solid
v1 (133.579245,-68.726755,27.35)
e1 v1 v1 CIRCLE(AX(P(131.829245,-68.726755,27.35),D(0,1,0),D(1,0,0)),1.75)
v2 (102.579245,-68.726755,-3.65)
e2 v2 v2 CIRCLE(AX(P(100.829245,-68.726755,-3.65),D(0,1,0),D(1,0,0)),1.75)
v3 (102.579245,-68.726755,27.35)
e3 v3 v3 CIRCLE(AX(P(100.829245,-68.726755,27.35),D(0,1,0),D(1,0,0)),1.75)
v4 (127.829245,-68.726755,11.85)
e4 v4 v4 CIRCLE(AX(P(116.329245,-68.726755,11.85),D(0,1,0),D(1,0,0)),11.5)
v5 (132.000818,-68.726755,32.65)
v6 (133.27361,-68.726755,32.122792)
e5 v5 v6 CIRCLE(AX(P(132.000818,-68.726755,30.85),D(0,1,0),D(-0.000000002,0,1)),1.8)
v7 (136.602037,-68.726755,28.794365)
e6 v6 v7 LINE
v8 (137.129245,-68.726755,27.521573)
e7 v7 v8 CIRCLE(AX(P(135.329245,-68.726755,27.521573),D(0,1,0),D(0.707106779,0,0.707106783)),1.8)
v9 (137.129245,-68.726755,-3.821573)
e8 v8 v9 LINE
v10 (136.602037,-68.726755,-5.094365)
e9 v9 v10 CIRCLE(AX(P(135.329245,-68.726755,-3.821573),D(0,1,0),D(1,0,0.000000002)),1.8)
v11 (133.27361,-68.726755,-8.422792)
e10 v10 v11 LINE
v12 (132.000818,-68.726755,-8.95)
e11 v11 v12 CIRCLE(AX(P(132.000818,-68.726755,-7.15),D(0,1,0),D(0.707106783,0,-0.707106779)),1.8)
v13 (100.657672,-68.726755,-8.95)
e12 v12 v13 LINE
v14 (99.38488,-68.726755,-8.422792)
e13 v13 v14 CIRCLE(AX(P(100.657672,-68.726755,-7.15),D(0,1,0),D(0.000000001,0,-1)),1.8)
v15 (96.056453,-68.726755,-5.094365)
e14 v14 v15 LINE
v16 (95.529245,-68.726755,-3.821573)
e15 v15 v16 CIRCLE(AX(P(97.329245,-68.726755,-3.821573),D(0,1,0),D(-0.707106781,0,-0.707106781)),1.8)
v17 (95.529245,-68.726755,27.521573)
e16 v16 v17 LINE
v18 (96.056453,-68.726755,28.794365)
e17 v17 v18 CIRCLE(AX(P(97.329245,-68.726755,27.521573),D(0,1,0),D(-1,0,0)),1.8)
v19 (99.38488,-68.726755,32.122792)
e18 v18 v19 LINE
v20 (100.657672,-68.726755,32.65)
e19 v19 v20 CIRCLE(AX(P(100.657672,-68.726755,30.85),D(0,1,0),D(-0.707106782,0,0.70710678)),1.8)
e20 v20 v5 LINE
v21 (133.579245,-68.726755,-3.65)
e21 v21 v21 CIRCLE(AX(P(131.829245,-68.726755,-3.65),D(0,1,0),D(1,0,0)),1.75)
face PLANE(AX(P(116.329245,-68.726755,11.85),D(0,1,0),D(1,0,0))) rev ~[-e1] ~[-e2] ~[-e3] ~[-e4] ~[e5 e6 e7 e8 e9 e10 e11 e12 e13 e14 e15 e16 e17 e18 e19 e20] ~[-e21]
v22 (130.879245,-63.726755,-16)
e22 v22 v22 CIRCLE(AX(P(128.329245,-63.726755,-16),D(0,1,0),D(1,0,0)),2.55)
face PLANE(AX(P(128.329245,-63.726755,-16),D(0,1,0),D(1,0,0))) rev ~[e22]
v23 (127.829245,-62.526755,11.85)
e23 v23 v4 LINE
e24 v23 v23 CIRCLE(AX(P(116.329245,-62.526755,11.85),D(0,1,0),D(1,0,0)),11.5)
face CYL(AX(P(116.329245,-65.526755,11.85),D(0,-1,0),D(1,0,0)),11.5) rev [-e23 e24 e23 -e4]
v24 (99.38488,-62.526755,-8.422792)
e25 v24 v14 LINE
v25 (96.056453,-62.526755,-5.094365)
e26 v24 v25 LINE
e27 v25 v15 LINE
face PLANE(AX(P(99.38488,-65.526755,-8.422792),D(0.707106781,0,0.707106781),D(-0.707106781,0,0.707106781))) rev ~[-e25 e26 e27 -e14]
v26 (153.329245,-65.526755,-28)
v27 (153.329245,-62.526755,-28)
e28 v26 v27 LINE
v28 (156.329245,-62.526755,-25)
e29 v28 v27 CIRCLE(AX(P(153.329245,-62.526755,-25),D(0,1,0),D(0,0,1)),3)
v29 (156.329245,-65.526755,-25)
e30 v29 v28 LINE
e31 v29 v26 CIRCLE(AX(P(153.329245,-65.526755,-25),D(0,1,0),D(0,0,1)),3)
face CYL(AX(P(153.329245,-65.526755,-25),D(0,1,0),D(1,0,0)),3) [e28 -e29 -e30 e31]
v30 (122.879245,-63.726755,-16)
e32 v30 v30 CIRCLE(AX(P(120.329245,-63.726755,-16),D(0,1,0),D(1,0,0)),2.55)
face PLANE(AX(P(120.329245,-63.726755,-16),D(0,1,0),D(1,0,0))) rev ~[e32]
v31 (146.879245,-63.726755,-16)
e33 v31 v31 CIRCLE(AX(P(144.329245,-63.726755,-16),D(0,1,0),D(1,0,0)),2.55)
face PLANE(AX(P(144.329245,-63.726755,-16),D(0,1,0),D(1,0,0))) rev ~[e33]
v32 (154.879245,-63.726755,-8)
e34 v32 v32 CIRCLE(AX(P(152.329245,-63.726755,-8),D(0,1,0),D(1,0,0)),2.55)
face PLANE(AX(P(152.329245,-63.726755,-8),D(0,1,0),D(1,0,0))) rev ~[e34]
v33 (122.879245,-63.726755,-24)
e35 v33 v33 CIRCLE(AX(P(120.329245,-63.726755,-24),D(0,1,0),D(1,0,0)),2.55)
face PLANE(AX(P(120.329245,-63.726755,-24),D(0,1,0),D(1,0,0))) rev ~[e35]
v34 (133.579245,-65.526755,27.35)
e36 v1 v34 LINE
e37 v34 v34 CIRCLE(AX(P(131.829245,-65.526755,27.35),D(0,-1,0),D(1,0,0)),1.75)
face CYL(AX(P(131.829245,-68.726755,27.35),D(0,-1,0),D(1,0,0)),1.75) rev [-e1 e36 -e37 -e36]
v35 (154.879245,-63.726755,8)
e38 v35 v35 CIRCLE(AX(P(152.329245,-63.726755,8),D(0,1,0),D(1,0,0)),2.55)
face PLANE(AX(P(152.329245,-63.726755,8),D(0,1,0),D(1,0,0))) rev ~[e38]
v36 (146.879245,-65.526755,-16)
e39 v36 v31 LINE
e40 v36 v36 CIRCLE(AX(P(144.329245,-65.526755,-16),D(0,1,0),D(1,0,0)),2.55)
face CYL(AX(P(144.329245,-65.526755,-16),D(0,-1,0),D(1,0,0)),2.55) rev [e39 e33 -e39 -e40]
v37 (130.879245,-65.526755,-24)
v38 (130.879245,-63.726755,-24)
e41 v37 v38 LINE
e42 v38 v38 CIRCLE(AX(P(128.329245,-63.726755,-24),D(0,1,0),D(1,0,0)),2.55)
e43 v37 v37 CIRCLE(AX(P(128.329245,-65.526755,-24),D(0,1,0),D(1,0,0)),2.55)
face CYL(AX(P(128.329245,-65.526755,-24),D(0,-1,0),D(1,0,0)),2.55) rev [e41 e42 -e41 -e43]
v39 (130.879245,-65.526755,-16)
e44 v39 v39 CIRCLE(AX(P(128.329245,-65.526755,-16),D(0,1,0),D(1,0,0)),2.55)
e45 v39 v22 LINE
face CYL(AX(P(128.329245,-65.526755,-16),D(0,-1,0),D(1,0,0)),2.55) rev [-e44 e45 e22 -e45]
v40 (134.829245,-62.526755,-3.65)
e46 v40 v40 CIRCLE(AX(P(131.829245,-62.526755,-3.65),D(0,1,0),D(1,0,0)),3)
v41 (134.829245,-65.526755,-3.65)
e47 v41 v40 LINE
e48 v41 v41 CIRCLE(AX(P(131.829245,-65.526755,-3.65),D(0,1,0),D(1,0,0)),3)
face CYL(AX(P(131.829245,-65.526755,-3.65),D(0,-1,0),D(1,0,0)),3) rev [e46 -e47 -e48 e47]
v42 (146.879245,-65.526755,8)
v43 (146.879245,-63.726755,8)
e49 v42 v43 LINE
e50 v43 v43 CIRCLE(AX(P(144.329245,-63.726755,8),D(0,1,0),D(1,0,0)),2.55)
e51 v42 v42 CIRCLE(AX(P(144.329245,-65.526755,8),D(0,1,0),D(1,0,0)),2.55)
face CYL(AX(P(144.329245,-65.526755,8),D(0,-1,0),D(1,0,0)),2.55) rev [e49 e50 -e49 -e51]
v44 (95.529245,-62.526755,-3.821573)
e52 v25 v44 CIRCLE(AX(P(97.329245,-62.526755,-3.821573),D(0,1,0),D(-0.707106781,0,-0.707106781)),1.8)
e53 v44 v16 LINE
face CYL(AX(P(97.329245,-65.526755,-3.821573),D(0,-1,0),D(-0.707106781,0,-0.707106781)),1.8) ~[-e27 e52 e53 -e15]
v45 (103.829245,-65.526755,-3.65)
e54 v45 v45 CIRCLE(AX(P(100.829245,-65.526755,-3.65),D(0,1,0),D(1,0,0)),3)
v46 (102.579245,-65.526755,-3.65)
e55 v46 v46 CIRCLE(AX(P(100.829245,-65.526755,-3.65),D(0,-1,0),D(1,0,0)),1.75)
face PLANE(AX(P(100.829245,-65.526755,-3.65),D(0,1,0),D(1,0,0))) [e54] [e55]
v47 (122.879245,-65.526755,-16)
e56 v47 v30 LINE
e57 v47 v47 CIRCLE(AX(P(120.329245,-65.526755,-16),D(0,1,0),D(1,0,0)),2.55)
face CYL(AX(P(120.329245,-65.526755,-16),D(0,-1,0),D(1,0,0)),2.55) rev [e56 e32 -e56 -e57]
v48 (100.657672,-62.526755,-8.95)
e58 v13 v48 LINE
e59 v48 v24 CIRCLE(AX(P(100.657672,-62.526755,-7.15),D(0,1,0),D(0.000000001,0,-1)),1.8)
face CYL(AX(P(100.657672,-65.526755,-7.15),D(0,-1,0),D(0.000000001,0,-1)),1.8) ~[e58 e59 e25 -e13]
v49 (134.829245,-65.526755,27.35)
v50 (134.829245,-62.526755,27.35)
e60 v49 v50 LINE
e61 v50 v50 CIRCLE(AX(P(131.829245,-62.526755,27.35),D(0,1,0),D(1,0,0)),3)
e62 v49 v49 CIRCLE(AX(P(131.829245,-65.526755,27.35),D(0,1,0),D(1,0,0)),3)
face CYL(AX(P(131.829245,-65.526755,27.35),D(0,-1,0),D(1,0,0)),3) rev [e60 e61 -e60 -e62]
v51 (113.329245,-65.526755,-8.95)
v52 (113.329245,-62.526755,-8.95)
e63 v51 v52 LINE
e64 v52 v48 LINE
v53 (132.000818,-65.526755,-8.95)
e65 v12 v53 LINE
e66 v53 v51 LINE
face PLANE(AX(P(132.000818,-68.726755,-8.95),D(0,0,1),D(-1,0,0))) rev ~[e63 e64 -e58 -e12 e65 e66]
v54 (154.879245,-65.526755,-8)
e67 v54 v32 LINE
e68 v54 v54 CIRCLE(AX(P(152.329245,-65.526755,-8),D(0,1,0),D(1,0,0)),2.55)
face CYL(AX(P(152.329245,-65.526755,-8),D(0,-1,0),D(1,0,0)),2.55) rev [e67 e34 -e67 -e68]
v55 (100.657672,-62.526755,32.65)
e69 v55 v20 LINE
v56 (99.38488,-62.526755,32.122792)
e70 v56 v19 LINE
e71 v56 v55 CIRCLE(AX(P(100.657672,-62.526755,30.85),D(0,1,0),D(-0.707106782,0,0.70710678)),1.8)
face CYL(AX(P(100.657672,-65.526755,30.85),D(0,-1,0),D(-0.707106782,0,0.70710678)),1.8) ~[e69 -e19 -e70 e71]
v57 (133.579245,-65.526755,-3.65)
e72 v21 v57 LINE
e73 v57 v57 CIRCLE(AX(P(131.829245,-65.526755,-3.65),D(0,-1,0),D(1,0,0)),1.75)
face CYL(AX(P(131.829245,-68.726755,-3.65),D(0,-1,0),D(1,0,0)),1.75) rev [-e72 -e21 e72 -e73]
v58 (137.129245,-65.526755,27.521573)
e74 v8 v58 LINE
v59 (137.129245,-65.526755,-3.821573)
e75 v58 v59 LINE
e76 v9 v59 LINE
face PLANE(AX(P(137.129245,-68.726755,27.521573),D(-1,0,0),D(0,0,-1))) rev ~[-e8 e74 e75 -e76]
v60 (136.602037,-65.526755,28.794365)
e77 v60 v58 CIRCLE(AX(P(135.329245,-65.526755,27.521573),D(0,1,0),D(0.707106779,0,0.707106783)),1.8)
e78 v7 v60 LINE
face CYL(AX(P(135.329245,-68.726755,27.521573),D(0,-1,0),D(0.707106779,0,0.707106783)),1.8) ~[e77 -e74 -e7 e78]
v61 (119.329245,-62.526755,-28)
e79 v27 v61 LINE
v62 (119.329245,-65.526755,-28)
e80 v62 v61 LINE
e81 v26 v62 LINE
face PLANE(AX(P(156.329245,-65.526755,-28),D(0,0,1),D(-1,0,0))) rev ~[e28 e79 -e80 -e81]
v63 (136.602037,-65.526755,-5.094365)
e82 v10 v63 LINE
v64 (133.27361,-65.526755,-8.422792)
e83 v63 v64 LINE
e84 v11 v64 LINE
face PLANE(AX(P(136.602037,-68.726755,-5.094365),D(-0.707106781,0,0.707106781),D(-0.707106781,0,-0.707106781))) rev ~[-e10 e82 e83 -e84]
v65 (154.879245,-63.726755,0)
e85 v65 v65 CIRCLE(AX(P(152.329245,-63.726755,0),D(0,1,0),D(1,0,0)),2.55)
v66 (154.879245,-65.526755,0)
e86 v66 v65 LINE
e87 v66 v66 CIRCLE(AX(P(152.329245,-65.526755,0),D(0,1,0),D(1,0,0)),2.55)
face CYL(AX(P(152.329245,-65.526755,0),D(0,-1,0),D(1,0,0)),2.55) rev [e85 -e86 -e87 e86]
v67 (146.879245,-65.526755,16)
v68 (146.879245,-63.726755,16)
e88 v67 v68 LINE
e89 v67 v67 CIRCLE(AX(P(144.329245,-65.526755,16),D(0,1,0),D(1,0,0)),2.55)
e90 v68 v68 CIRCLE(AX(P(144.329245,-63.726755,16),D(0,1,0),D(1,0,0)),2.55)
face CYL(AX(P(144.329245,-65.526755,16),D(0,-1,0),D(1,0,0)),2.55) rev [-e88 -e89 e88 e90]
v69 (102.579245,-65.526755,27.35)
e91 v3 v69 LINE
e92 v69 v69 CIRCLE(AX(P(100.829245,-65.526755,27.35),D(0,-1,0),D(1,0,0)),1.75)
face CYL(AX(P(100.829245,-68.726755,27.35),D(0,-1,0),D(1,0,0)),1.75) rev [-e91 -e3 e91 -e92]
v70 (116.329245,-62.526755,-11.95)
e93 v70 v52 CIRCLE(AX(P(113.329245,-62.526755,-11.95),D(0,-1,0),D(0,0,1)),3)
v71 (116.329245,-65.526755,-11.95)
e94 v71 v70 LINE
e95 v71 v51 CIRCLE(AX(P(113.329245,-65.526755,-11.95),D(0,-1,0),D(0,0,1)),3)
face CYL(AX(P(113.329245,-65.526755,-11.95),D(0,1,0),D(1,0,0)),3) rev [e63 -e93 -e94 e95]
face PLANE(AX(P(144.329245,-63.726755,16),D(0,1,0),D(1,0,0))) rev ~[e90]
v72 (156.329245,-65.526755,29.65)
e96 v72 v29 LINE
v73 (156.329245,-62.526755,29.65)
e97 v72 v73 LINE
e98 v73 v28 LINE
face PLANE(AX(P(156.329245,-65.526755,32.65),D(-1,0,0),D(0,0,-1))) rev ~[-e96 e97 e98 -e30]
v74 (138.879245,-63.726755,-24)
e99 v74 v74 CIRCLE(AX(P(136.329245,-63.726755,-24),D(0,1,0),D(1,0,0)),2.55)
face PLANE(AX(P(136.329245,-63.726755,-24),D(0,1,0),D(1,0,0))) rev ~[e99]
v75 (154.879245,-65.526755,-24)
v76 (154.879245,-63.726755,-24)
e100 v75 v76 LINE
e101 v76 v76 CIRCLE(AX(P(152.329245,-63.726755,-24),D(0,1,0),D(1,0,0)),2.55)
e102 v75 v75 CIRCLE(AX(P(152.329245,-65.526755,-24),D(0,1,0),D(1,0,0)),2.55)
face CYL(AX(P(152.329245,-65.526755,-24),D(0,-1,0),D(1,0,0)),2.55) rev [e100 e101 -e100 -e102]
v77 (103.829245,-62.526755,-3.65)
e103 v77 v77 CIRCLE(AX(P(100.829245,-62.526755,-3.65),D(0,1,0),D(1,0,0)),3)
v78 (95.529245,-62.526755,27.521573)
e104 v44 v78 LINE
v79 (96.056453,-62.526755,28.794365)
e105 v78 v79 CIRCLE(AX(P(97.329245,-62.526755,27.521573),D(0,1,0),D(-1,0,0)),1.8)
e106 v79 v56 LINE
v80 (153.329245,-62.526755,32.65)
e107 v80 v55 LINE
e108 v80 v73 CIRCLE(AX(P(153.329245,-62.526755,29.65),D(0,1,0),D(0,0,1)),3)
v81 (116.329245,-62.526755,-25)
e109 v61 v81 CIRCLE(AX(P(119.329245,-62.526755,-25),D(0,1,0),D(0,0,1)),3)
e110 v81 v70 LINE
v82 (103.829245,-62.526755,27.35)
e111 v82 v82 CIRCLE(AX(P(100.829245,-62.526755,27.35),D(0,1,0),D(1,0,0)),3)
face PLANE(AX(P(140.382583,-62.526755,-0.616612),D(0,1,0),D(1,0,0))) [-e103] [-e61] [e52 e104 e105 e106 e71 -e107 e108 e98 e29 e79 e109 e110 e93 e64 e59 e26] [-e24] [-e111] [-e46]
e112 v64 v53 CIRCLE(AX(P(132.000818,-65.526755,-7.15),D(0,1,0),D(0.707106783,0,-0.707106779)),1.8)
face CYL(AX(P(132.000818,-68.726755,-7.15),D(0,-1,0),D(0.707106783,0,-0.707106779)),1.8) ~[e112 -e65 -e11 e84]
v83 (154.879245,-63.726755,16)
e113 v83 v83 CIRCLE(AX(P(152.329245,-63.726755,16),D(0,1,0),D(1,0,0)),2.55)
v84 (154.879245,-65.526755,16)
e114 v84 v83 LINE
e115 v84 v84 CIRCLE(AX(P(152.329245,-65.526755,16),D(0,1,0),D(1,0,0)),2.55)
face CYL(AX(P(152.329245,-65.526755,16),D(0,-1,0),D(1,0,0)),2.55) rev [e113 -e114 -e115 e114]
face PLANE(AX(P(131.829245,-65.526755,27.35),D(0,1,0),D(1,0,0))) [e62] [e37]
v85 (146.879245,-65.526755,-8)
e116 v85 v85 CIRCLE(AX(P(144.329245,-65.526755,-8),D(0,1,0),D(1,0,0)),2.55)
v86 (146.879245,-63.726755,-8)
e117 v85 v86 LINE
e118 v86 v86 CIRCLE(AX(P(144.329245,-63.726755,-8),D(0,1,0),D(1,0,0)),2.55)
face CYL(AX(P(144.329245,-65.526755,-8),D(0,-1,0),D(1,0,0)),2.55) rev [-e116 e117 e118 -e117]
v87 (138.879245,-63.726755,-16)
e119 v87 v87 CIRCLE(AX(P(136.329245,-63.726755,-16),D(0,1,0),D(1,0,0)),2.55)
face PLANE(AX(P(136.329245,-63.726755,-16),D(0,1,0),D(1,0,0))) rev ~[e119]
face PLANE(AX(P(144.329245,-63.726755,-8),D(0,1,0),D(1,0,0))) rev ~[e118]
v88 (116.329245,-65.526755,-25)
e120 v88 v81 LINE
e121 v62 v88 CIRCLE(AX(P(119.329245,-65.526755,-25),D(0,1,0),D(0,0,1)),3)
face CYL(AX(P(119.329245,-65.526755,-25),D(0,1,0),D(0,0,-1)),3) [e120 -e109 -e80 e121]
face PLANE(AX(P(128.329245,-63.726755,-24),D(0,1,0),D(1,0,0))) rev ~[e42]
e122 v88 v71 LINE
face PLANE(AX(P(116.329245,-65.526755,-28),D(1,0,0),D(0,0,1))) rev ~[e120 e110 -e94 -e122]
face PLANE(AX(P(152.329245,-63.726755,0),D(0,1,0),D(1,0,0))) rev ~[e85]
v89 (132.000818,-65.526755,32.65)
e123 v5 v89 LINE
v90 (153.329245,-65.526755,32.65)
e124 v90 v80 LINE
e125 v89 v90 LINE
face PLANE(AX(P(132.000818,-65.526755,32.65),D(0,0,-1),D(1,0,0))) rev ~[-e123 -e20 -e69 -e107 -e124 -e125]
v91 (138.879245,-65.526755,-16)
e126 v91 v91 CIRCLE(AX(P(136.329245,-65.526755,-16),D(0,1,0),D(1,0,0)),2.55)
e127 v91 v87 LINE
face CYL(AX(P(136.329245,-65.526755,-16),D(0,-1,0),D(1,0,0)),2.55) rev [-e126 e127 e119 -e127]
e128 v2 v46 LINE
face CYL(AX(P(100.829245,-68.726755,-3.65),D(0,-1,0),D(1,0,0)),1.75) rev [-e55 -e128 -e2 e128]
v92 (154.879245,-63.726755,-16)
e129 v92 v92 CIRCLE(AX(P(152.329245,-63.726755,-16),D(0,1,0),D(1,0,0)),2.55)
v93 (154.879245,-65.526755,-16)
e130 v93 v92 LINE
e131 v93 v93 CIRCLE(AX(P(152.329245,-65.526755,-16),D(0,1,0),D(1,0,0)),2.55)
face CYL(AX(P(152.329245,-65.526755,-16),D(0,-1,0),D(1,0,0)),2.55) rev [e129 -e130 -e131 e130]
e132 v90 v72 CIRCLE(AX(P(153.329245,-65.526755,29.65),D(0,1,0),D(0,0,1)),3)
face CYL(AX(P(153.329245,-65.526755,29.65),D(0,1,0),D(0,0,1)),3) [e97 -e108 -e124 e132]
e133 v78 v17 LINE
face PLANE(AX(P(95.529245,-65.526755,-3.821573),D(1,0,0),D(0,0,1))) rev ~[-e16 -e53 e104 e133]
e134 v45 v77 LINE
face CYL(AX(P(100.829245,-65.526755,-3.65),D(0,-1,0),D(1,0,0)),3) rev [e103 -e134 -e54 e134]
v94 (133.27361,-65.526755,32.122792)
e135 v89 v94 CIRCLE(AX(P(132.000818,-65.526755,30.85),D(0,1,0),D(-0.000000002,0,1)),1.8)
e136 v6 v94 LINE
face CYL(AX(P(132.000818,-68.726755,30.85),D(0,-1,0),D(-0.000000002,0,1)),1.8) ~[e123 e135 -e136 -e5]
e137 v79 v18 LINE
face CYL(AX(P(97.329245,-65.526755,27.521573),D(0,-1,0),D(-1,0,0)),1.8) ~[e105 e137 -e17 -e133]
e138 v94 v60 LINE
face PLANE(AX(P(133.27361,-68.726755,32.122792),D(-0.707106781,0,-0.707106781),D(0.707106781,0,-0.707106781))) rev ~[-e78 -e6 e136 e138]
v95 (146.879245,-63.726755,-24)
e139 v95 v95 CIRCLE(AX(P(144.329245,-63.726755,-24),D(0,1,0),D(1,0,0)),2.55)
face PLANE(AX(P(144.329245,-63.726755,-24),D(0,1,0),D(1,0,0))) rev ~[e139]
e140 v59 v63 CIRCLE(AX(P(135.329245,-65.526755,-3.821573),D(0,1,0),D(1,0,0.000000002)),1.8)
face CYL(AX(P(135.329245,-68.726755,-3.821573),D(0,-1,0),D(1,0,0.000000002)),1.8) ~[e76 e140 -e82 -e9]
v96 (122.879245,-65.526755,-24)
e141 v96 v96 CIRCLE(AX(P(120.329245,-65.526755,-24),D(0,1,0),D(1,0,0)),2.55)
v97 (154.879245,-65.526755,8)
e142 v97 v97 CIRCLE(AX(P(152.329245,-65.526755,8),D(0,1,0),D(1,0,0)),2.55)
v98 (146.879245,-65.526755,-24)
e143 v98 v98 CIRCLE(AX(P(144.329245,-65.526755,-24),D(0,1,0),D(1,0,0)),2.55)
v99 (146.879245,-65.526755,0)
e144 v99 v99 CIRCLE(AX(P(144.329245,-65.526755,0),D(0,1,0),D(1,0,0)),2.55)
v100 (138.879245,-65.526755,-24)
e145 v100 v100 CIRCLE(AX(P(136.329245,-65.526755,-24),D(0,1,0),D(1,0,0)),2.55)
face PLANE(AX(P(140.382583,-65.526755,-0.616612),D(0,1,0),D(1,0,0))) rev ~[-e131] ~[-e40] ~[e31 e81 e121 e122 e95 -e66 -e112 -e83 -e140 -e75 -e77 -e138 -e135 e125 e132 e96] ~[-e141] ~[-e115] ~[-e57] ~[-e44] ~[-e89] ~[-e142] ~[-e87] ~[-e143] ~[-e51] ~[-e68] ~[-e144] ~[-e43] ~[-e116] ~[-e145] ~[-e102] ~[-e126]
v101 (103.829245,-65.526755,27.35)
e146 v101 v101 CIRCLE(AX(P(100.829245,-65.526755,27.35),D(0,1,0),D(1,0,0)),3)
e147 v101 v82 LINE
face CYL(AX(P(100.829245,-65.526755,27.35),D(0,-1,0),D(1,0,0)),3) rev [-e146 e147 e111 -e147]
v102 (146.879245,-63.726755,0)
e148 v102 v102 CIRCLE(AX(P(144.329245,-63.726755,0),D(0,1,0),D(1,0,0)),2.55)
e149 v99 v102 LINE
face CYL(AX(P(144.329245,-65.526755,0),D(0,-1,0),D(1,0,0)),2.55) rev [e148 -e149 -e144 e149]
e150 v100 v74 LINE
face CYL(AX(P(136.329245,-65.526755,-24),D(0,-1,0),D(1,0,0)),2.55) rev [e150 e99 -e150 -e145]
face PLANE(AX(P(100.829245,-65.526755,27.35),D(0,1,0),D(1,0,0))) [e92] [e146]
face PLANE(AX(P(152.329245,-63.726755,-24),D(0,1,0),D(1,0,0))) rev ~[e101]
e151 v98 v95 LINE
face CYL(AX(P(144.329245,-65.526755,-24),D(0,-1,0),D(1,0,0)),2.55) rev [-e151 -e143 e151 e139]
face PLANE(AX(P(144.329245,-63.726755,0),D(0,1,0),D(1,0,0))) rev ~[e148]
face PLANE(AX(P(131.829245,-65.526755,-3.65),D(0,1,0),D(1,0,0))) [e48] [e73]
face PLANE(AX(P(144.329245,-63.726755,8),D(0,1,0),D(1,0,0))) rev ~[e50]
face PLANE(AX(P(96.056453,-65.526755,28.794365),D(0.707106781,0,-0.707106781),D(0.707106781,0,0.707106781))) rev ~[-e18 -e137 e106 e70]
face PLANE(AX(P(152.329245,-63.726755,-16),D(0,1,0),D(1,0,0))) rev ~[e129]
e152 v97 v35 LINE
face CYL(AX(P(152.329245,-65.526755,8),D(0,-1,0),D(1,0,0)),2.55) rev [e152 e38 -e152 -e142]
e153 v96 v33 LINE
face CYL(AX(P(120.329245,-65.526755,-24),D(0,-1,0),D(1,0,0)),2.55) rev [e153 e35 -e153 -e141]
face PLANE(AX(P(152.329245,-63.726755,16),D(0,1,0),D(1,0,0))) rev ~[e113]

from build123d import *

# Parameters (mm, degrees)
SKETCH1_R           = 1.75
SKETCH1_R_2         = 11.5
BOSS_EXTRUDE1_DEPTH = 3.2
BOSS_EXTRUDE2_START = 3.2
SKETCH1_5_R         = 2.55
SKETCH1_5_R_2       = 3
SKETCH1_5_R_3       = 11.5
SKETCH1_5_R_4       = 1.75
BOSS_EXTRUDE2_DEPTH = 3
BOSS_EXTRUDE3_START = 5
SKETCH1_6_R         = 2.55
BOSS_EXTRUDE3_DEPTH = 1.2
CUT_EXTRUDE2_START  = 3.2
SKETCH1_4_R         = 3
CUT_EXTRUDE2_DEPTH  = 3
FILLET1_R           = 3


with BuildPart() as part:
    # Sketch1 → Boss-Extrude1 (new body)
    with BuildSketch(Plane(origin=(0, -68.726755499, 0), x_dir=(1, 0, 0), z_dir=(0, 1, 0))):
        with BuildLine():
            Line((137.12924475, -27.521572875), (137.12924475, 3.821572875))
            ThreePointArc((137.12924475, 3.821572875), (136.992227909, 4.510403054), (136.602036956, 5.094365081))
            Line((136.602036956, 5.094365081), (133.273609831, 8.422792206))
            ThreePointArc((133.273609831, 8.422792206), (132.689647804, 8.812983159), (132.000817625, 8.95))
            Line((132.000817625, 8.95), (100.657671875, 8.95))
            ThreePointArc((100.657671875, 8.95), (99.968841697, 8.812983159), (99.384879669, 8.422792206))
            Line((99.384879669, 8.422792206), (96.056452544, 5.094365081))
            ThreePointArc((96.056452544, 5.094365081), (95.666261592, 4.510403054), (95.52924475, 3.821572875))
            Line((95.52924475, 3.821572875), (95.52924475, -27.521572875))
            ThreePointArc((95.52924475, -27.521572875), (95.666261592, -28.210403054), (96.056452544, -28.794365081))
            Line((96.056452544, -28.794365081), (99.384879669, -32.122792206))
            ThreePointArc((99.384879669, -32.122792206), (99.968841697, -32.512983159), (100.657671875, -32.65))
            Line((100.657671875, -32.65), (132.000817625, -32.65))
            ThreePointArc((132.000817625, -32.65), (132.689647804, -32.512983159), (133.273609831, -32.122792206))
            Line((133.273609831, -32.122792206), (136.602036956, -28.794365081))
            ThreePointArc((136.602036956, -28.794365081), (136.992227909, -28.210403054), (137.12924475, -27.521572875))
        make_face()
        with Locations((100.82924475, -27.35)):
            Circle(SKETCH1_R, mode=Mode.SUBTRACT)
        with Locations((100.82924475, 3.65)):
            Circle(SKETCH1_R, mode=Mode.SUBTRACT)
        with Locations((131.82924475, 3.65)):
            Circle(SKETCH1_R, mode=Mode.SUBTRACT)
        with Locations((131.82924475, -27.35)):
            Circle(SKETCH1_R, mode=Mode.SUBTRACT)
        with Locations((116.32924475, -11.85)):
            Circle(SKETCH1_R_2, mode=Mode.SUBTRACT)
    extrude(amount=BOSS_EXTRUDE1_DEPTH)

    # Sketch1<5> → Boss-Extrude2 (add)
    # profile 1 of 6: a face of its own
    with BuildSketch(Plane(origin=(0, -68.726755499, 0), x_dir=(1, 0, 0), z_dir=(0, 1, 0)).offset(BOSS_EXTRUDE2_START)):
        with BuildLine():
            ThreePointArc((133.273609831, -32.122792206), (132.689647804, -32.512983159), (132.000817625, -32.65))
            Line((132.000817625, -32.65), (156.32924475, -32.65))
            Line((156.32924475, -32.65), (156.32924475, 28))
            Line((156.32924475, 28), (116.32924475, 28))
            Line((116.32924475, 28), (116.32924475, 8.95))
            Line((116.32924475, 8.95), (132.000817625, 8.95))
            ThreePointArc((132.000817625, 8.95), (132.689647804, 8.812983159), (133.273609831, 8.422792206))
            Line((133.273609831, 8.422792206), (136.602036956, 5.094365081))
            ThreePointArc((136.602036956, 5.094365081), (136.992227909, 4.510403054), (137.12924475, 3.821572875))
            Line((137.12924475, 3.821572875), (137.12924475, -27.521572875))
            ThreePointArc((137.12924475, -27.521572875), (136.992227909, -28.210403054), (136.602036956, -28.794365081))
            Line((136.602036956, -28.794365081), (133.273609831, -32.122792206))
        make_face()
        with Locations((144.32924475, -16)):
            Circle(SKETCH1_5_R, mode=Mode.SUBTRACT)
        with Locations((152.32924475, -16)):
            Circle(SKETCH1_5_R, mode=Mode.SUBTRACT)
        with Locations((144.32924475, -8)):
            Circle(SKETCH1_5_R, mode=Mode.SUBTRACT)
        with Locations((152.32924475, -8)):
            Circle(SKETCH1_5_R, mode=Mode.SUBTRACT)
        with Locations((120.32924475, 16)):
            Circle(SKETCH1_5_R, mode=Mode.SUBTRACT)
        with Locations((120.32924475, 24)):
            Circle(SKETCH1_5_R, mode=Mode.SUBTRACT)
        with Locations((144.32924475, 0)):
            Circle(SKETCH1_5_R, mode=Mode.SUBTRACT)
        with Locations((152.32924475, 0)):
            Circle(SKETCH1_5_R, mode=Mode.SUBTRACT)
        with Locations((144.32924475, 8)):
            Circle(SKETCH1_5_R, mode=Mode.SUBTRACT)
        with Locations((152.32924475, 8)):
            Circle(SKETCH1_5_R, mode=Mode.SUBTRACT)
        with Locations((128.32924475, 16)):
            Circle(SKETCH1_5_R, mode=Mode.SUBTRACT)
        with Locations((136.32924475, 16)):
            Circle(SKETCH1_5_R, mode=Mode.SUBTRACT)
        with Locations((128.32924475, 24)):
            Circle(SKETCH1_5_R, mode=Mode.SUBTRACT)
        with Locations((136.32924475, 24)):
            Circle(SKETCH1_5_R, mode=Mode.SUBTRACT)
        with Locations((144.32924475, 16)):
            Circle(SKETCH1_5_R, mode=Mode.SUBTRACT)
        with Locations((152.32924475, 16)):
            Circle(SKETCH1_5_R, mode=Mode.SUBTRACT)
        with Locations((144.32924475, 24)):
            Circle(SKETCH1_5_R, mode=Mode.SUBTRACT)
        with Locations((152.32924475, 24)):
            Circle(SKETCH1_5_R, mode=Mode.SUBTRACT)
    # profile 2 of 6: a face of its own
    with BuildSketch(Plane(origin=(0, -68.726755499, 0), x_dir=(1, 0, 0), z_dir=(0, 1, 0)).offset(BOSS_EXTRUDE2_START)):
        with BuildLine():
            Line((100.657671875, -32.65), (132.000817625, -32.65))
            ThreePointArc((132.000817625, -32.65), (132.689647804, -32.512983159), (133.273609831, -32.122792206))
            Line((133.273609831, -32.122792206), (136.602036956, -28.794365081))
            ThreePointArc((136.602036956, -28.794365081), (136.992227909, -28.210403054), (137.12924475, -27.521572875))
            Line((137.12924475, -27.521572875), (137.12924475, 3.821572875))
            ThreePointArc((137.12924475, 3.821572875), (136.992227909, 4.510403054), (136.602036956, 5.094365081))
            Line((136.602036956, 5.094365081), (133.273609831, 8.422792206))
            ThreePointArc((133.273609831, 8.422792206), (132.689647804, 8.812983159), (132.000817625, 8.95))
            Line((132.000817625, 8.95), (116.32924475, 8.95))
            Line((116.32924475, 8.95), (100.657671875, 8.95))
            ThreePointArc((100.657671875, 8.95), (99.968841697, 8.812983159), (99.384879669, 8.422792206))
            Line((99.384879669, 8.422792206), (96.056452544, 5.094365081))
            ThreePointArc((96.056452544, 5.094365081), (95.666261592, 4.510403054), (95.52924475, 3.821572875))
            Line((95.52924475, 3.821572875), (95.52924475, -27.521572875))
            ThreePointArc((95.52924475, -27.521572875), (95.666261592, -28.210403054), (96.056452544, -28.794365081))
            Line((96.056452544, -28.794365081), (99.384879669, -32.122792206))
            ThreePointArc((99.384879669, -32.122792206), (99.968841697, -32.512983159), (100.657671875, -32.65))
        make_face()
        with Locations((100.82924475, -27.35)):
            Circle(SKETCH1_5_R_2, mode=Mode.SUBTRACT)
        with Locations((116.32924475, -11.85)):
            Circle(SKETCH1_5_R_3, mode=Mode.SUBTRACT)
        with Locations((131.82924475, -27.35)):
            Circle(SKETCH1_5_R_2, mode=Mode.SUBTRACT)
        with Locations((100.82924475, 3.65)):
            Circle(SKETCH1_5_R_2, mode=Mode.SUBTRACT)
        with Locations((131.82924475, 3.65)):
            Circle(SKETCH1_5_R_2, mode=Mode.SUBTRACT)
    # profile 3 of 6: a face of its own
    with BuildSketch(Plane(origin=(0, -68.726755499, 0), x_dir=(1, 0, 0), z_dir=(0, 1, 0)).offset(BOSS_EXTRUDE2_START)):
        with Locations((131.82924475, 3.65)):
            Circle(SKETCH1_5_R_2)
        with Locations((131.82924475, 3.65)):
            Circle(SKETCH1_5_R_4, mode=Mode.SUBTRACT)
    # profile 4 of 6: a face of its own
    with BuildSketch(Plane(origin=(0, -68.726755499, 0), x_dir=(1, 0, 0), z_dir=(0, 1, 0)).offset(BOSS_EXTRUDE2_START)):
        with Locations((131.82924475, -27.35)):
            Circle(SKETCH1_5_R_2)
        with Locations((131.82924475, -27.35)):
            Circle(SKETCH1_5_R_4, mode=Mode.SUBTRACT)
    # profile 5 of 6: a face of its own
    with BuildSketch(Plane(origin=(0, -68.726755499, 0), x_dir=(1, 0, 0), z_dir=(0, 1, 0)).offset(BOSS_EXTRUDE2_START)):
        with Locations((100.82924475, 3.65)):
            Circle(SKETCH1_5_R_2)
        with Locations((100.82924475, 3.65)):
            Circle(SKETCH1_5_R_4, mode=Mode.SUBTRACT)
    # profile 6 of 6: a face of its own
    with BuildSketch(Plane(origin=(0, -68.726755499, 0), x_dir=(1, 0, 0), z_dir=(0, 1, 0)).offset(BOSS_EXTRUDE2_START)):
        with Locations((100.82924475, -27.35)):
            Circle(SKETCH1_5_R_2)
        with Locations((100.82924475, -27.35)):
            Circle(SKETCH1_5_R_4, mode=Mode.SUBTRACT)
    extrude(amount=BOSS_EXTRUDE2_DEPTH)

    # Sketch1<6> → Boss-Extrude3 (add)
    with BuildSketch(Plane(origin=(0, -68.726755499, 0), x_dir=(1, 0, 0), z_dir=(0, 1, 0)).offset(BOSS_EXTRUDE3_START)):
        with Locations((152.32924475, -16)):
            Circle(SKETCH1_6_R)
        with Locations((144.32924475, -16)):
            Circle(SKETCH1_6_R)
        with Locations((144.32924475, -8)):
            Circle(SKETCH1_6_R)
        with Locations((152.32924475, -8)):
            Circle(SKETCH1_6_R)
        with Locations((152.32924475, 0)):
            Circle(SKETCH1_6_R)
        with Locations((144.32924475, 0)):
            Circle(SKETCH1_6_R)
        with Locations((152.32924475, 8)):
            Circle(SKETCH1_6_R)
        with Locations((152.32924475, 16)):
            Circle(SKETCH1_6_R)
        with Locations((144.32924475, 24)):
            Circle(SKETCH1_6_R)
        with Locations((152.32924475, 24)):
            Circle(SKETCH1_6_R)
        with Locations((136.32924475, 24)):
            Circle(SKETCH1_6_R)
        with Locations((136.32924475, 16)):
            Circle(SKETCH1_6_R)
        with Locations((128.32924475, 16)):
            Circle(SKETCH1_6_R)
        with Locations((128.32924475, 24)):
            Circle(SKETCH1_6_R)
        with Locations((120.32924475, 16)):
            Circle(SKETCH1_6_R)
        with Locations((120.32924475, 24)):
            Circle(SKETCH1_6_R)
        with Locations((144.32924475, 8)):
            Circle(SKETCH1_6_R)
        with Locations((144.32924475, 16)):
            Circle(SKETCH1_6_R)
    extrude(amount=BOSS_EXTRUDE3_DEPTH)

    # Sketch1<4> → Cut-Extrude2 (cut)
    with BuildSketch(Plane(origin=(0, -68.726755499, 0), x_dir=(1, 0, 0), z_dir=(0, 1, 0)).offset(CUT_EXTRUDE2_START)):
        with Locations((100.82924475, -27.35)):
            Circle(SKETCH1_4_R)
        with Locations((100.82924475, 3.65)):
            Circle(SKETCH1_4_R)
        with Locations((131.82924475, 3.65)):
            Circle(SKETCH1_4_R)
        with Locations((131.82924475, -27.35)):
            Circle(SKETCH1_4_R)
    extrude(amount=CUT_EXTRUDE2_DEPTH, mode=Mode.SUBTRACT)

    # Fillet1
    fillet1_edges = [part.edges().sort_by_distance(p)[0] for p in [
        (156.32924475, -64.026755499, 32.65),
        (156.32924475, -64.026755499, -28),
        (116.32924475, -64.026755499, -28),
        (116.32924475, -64.026755499, -8.95),
    ]]
    fillet(fillet1_edges, radius=FILLET1_R)


solid = part.part
